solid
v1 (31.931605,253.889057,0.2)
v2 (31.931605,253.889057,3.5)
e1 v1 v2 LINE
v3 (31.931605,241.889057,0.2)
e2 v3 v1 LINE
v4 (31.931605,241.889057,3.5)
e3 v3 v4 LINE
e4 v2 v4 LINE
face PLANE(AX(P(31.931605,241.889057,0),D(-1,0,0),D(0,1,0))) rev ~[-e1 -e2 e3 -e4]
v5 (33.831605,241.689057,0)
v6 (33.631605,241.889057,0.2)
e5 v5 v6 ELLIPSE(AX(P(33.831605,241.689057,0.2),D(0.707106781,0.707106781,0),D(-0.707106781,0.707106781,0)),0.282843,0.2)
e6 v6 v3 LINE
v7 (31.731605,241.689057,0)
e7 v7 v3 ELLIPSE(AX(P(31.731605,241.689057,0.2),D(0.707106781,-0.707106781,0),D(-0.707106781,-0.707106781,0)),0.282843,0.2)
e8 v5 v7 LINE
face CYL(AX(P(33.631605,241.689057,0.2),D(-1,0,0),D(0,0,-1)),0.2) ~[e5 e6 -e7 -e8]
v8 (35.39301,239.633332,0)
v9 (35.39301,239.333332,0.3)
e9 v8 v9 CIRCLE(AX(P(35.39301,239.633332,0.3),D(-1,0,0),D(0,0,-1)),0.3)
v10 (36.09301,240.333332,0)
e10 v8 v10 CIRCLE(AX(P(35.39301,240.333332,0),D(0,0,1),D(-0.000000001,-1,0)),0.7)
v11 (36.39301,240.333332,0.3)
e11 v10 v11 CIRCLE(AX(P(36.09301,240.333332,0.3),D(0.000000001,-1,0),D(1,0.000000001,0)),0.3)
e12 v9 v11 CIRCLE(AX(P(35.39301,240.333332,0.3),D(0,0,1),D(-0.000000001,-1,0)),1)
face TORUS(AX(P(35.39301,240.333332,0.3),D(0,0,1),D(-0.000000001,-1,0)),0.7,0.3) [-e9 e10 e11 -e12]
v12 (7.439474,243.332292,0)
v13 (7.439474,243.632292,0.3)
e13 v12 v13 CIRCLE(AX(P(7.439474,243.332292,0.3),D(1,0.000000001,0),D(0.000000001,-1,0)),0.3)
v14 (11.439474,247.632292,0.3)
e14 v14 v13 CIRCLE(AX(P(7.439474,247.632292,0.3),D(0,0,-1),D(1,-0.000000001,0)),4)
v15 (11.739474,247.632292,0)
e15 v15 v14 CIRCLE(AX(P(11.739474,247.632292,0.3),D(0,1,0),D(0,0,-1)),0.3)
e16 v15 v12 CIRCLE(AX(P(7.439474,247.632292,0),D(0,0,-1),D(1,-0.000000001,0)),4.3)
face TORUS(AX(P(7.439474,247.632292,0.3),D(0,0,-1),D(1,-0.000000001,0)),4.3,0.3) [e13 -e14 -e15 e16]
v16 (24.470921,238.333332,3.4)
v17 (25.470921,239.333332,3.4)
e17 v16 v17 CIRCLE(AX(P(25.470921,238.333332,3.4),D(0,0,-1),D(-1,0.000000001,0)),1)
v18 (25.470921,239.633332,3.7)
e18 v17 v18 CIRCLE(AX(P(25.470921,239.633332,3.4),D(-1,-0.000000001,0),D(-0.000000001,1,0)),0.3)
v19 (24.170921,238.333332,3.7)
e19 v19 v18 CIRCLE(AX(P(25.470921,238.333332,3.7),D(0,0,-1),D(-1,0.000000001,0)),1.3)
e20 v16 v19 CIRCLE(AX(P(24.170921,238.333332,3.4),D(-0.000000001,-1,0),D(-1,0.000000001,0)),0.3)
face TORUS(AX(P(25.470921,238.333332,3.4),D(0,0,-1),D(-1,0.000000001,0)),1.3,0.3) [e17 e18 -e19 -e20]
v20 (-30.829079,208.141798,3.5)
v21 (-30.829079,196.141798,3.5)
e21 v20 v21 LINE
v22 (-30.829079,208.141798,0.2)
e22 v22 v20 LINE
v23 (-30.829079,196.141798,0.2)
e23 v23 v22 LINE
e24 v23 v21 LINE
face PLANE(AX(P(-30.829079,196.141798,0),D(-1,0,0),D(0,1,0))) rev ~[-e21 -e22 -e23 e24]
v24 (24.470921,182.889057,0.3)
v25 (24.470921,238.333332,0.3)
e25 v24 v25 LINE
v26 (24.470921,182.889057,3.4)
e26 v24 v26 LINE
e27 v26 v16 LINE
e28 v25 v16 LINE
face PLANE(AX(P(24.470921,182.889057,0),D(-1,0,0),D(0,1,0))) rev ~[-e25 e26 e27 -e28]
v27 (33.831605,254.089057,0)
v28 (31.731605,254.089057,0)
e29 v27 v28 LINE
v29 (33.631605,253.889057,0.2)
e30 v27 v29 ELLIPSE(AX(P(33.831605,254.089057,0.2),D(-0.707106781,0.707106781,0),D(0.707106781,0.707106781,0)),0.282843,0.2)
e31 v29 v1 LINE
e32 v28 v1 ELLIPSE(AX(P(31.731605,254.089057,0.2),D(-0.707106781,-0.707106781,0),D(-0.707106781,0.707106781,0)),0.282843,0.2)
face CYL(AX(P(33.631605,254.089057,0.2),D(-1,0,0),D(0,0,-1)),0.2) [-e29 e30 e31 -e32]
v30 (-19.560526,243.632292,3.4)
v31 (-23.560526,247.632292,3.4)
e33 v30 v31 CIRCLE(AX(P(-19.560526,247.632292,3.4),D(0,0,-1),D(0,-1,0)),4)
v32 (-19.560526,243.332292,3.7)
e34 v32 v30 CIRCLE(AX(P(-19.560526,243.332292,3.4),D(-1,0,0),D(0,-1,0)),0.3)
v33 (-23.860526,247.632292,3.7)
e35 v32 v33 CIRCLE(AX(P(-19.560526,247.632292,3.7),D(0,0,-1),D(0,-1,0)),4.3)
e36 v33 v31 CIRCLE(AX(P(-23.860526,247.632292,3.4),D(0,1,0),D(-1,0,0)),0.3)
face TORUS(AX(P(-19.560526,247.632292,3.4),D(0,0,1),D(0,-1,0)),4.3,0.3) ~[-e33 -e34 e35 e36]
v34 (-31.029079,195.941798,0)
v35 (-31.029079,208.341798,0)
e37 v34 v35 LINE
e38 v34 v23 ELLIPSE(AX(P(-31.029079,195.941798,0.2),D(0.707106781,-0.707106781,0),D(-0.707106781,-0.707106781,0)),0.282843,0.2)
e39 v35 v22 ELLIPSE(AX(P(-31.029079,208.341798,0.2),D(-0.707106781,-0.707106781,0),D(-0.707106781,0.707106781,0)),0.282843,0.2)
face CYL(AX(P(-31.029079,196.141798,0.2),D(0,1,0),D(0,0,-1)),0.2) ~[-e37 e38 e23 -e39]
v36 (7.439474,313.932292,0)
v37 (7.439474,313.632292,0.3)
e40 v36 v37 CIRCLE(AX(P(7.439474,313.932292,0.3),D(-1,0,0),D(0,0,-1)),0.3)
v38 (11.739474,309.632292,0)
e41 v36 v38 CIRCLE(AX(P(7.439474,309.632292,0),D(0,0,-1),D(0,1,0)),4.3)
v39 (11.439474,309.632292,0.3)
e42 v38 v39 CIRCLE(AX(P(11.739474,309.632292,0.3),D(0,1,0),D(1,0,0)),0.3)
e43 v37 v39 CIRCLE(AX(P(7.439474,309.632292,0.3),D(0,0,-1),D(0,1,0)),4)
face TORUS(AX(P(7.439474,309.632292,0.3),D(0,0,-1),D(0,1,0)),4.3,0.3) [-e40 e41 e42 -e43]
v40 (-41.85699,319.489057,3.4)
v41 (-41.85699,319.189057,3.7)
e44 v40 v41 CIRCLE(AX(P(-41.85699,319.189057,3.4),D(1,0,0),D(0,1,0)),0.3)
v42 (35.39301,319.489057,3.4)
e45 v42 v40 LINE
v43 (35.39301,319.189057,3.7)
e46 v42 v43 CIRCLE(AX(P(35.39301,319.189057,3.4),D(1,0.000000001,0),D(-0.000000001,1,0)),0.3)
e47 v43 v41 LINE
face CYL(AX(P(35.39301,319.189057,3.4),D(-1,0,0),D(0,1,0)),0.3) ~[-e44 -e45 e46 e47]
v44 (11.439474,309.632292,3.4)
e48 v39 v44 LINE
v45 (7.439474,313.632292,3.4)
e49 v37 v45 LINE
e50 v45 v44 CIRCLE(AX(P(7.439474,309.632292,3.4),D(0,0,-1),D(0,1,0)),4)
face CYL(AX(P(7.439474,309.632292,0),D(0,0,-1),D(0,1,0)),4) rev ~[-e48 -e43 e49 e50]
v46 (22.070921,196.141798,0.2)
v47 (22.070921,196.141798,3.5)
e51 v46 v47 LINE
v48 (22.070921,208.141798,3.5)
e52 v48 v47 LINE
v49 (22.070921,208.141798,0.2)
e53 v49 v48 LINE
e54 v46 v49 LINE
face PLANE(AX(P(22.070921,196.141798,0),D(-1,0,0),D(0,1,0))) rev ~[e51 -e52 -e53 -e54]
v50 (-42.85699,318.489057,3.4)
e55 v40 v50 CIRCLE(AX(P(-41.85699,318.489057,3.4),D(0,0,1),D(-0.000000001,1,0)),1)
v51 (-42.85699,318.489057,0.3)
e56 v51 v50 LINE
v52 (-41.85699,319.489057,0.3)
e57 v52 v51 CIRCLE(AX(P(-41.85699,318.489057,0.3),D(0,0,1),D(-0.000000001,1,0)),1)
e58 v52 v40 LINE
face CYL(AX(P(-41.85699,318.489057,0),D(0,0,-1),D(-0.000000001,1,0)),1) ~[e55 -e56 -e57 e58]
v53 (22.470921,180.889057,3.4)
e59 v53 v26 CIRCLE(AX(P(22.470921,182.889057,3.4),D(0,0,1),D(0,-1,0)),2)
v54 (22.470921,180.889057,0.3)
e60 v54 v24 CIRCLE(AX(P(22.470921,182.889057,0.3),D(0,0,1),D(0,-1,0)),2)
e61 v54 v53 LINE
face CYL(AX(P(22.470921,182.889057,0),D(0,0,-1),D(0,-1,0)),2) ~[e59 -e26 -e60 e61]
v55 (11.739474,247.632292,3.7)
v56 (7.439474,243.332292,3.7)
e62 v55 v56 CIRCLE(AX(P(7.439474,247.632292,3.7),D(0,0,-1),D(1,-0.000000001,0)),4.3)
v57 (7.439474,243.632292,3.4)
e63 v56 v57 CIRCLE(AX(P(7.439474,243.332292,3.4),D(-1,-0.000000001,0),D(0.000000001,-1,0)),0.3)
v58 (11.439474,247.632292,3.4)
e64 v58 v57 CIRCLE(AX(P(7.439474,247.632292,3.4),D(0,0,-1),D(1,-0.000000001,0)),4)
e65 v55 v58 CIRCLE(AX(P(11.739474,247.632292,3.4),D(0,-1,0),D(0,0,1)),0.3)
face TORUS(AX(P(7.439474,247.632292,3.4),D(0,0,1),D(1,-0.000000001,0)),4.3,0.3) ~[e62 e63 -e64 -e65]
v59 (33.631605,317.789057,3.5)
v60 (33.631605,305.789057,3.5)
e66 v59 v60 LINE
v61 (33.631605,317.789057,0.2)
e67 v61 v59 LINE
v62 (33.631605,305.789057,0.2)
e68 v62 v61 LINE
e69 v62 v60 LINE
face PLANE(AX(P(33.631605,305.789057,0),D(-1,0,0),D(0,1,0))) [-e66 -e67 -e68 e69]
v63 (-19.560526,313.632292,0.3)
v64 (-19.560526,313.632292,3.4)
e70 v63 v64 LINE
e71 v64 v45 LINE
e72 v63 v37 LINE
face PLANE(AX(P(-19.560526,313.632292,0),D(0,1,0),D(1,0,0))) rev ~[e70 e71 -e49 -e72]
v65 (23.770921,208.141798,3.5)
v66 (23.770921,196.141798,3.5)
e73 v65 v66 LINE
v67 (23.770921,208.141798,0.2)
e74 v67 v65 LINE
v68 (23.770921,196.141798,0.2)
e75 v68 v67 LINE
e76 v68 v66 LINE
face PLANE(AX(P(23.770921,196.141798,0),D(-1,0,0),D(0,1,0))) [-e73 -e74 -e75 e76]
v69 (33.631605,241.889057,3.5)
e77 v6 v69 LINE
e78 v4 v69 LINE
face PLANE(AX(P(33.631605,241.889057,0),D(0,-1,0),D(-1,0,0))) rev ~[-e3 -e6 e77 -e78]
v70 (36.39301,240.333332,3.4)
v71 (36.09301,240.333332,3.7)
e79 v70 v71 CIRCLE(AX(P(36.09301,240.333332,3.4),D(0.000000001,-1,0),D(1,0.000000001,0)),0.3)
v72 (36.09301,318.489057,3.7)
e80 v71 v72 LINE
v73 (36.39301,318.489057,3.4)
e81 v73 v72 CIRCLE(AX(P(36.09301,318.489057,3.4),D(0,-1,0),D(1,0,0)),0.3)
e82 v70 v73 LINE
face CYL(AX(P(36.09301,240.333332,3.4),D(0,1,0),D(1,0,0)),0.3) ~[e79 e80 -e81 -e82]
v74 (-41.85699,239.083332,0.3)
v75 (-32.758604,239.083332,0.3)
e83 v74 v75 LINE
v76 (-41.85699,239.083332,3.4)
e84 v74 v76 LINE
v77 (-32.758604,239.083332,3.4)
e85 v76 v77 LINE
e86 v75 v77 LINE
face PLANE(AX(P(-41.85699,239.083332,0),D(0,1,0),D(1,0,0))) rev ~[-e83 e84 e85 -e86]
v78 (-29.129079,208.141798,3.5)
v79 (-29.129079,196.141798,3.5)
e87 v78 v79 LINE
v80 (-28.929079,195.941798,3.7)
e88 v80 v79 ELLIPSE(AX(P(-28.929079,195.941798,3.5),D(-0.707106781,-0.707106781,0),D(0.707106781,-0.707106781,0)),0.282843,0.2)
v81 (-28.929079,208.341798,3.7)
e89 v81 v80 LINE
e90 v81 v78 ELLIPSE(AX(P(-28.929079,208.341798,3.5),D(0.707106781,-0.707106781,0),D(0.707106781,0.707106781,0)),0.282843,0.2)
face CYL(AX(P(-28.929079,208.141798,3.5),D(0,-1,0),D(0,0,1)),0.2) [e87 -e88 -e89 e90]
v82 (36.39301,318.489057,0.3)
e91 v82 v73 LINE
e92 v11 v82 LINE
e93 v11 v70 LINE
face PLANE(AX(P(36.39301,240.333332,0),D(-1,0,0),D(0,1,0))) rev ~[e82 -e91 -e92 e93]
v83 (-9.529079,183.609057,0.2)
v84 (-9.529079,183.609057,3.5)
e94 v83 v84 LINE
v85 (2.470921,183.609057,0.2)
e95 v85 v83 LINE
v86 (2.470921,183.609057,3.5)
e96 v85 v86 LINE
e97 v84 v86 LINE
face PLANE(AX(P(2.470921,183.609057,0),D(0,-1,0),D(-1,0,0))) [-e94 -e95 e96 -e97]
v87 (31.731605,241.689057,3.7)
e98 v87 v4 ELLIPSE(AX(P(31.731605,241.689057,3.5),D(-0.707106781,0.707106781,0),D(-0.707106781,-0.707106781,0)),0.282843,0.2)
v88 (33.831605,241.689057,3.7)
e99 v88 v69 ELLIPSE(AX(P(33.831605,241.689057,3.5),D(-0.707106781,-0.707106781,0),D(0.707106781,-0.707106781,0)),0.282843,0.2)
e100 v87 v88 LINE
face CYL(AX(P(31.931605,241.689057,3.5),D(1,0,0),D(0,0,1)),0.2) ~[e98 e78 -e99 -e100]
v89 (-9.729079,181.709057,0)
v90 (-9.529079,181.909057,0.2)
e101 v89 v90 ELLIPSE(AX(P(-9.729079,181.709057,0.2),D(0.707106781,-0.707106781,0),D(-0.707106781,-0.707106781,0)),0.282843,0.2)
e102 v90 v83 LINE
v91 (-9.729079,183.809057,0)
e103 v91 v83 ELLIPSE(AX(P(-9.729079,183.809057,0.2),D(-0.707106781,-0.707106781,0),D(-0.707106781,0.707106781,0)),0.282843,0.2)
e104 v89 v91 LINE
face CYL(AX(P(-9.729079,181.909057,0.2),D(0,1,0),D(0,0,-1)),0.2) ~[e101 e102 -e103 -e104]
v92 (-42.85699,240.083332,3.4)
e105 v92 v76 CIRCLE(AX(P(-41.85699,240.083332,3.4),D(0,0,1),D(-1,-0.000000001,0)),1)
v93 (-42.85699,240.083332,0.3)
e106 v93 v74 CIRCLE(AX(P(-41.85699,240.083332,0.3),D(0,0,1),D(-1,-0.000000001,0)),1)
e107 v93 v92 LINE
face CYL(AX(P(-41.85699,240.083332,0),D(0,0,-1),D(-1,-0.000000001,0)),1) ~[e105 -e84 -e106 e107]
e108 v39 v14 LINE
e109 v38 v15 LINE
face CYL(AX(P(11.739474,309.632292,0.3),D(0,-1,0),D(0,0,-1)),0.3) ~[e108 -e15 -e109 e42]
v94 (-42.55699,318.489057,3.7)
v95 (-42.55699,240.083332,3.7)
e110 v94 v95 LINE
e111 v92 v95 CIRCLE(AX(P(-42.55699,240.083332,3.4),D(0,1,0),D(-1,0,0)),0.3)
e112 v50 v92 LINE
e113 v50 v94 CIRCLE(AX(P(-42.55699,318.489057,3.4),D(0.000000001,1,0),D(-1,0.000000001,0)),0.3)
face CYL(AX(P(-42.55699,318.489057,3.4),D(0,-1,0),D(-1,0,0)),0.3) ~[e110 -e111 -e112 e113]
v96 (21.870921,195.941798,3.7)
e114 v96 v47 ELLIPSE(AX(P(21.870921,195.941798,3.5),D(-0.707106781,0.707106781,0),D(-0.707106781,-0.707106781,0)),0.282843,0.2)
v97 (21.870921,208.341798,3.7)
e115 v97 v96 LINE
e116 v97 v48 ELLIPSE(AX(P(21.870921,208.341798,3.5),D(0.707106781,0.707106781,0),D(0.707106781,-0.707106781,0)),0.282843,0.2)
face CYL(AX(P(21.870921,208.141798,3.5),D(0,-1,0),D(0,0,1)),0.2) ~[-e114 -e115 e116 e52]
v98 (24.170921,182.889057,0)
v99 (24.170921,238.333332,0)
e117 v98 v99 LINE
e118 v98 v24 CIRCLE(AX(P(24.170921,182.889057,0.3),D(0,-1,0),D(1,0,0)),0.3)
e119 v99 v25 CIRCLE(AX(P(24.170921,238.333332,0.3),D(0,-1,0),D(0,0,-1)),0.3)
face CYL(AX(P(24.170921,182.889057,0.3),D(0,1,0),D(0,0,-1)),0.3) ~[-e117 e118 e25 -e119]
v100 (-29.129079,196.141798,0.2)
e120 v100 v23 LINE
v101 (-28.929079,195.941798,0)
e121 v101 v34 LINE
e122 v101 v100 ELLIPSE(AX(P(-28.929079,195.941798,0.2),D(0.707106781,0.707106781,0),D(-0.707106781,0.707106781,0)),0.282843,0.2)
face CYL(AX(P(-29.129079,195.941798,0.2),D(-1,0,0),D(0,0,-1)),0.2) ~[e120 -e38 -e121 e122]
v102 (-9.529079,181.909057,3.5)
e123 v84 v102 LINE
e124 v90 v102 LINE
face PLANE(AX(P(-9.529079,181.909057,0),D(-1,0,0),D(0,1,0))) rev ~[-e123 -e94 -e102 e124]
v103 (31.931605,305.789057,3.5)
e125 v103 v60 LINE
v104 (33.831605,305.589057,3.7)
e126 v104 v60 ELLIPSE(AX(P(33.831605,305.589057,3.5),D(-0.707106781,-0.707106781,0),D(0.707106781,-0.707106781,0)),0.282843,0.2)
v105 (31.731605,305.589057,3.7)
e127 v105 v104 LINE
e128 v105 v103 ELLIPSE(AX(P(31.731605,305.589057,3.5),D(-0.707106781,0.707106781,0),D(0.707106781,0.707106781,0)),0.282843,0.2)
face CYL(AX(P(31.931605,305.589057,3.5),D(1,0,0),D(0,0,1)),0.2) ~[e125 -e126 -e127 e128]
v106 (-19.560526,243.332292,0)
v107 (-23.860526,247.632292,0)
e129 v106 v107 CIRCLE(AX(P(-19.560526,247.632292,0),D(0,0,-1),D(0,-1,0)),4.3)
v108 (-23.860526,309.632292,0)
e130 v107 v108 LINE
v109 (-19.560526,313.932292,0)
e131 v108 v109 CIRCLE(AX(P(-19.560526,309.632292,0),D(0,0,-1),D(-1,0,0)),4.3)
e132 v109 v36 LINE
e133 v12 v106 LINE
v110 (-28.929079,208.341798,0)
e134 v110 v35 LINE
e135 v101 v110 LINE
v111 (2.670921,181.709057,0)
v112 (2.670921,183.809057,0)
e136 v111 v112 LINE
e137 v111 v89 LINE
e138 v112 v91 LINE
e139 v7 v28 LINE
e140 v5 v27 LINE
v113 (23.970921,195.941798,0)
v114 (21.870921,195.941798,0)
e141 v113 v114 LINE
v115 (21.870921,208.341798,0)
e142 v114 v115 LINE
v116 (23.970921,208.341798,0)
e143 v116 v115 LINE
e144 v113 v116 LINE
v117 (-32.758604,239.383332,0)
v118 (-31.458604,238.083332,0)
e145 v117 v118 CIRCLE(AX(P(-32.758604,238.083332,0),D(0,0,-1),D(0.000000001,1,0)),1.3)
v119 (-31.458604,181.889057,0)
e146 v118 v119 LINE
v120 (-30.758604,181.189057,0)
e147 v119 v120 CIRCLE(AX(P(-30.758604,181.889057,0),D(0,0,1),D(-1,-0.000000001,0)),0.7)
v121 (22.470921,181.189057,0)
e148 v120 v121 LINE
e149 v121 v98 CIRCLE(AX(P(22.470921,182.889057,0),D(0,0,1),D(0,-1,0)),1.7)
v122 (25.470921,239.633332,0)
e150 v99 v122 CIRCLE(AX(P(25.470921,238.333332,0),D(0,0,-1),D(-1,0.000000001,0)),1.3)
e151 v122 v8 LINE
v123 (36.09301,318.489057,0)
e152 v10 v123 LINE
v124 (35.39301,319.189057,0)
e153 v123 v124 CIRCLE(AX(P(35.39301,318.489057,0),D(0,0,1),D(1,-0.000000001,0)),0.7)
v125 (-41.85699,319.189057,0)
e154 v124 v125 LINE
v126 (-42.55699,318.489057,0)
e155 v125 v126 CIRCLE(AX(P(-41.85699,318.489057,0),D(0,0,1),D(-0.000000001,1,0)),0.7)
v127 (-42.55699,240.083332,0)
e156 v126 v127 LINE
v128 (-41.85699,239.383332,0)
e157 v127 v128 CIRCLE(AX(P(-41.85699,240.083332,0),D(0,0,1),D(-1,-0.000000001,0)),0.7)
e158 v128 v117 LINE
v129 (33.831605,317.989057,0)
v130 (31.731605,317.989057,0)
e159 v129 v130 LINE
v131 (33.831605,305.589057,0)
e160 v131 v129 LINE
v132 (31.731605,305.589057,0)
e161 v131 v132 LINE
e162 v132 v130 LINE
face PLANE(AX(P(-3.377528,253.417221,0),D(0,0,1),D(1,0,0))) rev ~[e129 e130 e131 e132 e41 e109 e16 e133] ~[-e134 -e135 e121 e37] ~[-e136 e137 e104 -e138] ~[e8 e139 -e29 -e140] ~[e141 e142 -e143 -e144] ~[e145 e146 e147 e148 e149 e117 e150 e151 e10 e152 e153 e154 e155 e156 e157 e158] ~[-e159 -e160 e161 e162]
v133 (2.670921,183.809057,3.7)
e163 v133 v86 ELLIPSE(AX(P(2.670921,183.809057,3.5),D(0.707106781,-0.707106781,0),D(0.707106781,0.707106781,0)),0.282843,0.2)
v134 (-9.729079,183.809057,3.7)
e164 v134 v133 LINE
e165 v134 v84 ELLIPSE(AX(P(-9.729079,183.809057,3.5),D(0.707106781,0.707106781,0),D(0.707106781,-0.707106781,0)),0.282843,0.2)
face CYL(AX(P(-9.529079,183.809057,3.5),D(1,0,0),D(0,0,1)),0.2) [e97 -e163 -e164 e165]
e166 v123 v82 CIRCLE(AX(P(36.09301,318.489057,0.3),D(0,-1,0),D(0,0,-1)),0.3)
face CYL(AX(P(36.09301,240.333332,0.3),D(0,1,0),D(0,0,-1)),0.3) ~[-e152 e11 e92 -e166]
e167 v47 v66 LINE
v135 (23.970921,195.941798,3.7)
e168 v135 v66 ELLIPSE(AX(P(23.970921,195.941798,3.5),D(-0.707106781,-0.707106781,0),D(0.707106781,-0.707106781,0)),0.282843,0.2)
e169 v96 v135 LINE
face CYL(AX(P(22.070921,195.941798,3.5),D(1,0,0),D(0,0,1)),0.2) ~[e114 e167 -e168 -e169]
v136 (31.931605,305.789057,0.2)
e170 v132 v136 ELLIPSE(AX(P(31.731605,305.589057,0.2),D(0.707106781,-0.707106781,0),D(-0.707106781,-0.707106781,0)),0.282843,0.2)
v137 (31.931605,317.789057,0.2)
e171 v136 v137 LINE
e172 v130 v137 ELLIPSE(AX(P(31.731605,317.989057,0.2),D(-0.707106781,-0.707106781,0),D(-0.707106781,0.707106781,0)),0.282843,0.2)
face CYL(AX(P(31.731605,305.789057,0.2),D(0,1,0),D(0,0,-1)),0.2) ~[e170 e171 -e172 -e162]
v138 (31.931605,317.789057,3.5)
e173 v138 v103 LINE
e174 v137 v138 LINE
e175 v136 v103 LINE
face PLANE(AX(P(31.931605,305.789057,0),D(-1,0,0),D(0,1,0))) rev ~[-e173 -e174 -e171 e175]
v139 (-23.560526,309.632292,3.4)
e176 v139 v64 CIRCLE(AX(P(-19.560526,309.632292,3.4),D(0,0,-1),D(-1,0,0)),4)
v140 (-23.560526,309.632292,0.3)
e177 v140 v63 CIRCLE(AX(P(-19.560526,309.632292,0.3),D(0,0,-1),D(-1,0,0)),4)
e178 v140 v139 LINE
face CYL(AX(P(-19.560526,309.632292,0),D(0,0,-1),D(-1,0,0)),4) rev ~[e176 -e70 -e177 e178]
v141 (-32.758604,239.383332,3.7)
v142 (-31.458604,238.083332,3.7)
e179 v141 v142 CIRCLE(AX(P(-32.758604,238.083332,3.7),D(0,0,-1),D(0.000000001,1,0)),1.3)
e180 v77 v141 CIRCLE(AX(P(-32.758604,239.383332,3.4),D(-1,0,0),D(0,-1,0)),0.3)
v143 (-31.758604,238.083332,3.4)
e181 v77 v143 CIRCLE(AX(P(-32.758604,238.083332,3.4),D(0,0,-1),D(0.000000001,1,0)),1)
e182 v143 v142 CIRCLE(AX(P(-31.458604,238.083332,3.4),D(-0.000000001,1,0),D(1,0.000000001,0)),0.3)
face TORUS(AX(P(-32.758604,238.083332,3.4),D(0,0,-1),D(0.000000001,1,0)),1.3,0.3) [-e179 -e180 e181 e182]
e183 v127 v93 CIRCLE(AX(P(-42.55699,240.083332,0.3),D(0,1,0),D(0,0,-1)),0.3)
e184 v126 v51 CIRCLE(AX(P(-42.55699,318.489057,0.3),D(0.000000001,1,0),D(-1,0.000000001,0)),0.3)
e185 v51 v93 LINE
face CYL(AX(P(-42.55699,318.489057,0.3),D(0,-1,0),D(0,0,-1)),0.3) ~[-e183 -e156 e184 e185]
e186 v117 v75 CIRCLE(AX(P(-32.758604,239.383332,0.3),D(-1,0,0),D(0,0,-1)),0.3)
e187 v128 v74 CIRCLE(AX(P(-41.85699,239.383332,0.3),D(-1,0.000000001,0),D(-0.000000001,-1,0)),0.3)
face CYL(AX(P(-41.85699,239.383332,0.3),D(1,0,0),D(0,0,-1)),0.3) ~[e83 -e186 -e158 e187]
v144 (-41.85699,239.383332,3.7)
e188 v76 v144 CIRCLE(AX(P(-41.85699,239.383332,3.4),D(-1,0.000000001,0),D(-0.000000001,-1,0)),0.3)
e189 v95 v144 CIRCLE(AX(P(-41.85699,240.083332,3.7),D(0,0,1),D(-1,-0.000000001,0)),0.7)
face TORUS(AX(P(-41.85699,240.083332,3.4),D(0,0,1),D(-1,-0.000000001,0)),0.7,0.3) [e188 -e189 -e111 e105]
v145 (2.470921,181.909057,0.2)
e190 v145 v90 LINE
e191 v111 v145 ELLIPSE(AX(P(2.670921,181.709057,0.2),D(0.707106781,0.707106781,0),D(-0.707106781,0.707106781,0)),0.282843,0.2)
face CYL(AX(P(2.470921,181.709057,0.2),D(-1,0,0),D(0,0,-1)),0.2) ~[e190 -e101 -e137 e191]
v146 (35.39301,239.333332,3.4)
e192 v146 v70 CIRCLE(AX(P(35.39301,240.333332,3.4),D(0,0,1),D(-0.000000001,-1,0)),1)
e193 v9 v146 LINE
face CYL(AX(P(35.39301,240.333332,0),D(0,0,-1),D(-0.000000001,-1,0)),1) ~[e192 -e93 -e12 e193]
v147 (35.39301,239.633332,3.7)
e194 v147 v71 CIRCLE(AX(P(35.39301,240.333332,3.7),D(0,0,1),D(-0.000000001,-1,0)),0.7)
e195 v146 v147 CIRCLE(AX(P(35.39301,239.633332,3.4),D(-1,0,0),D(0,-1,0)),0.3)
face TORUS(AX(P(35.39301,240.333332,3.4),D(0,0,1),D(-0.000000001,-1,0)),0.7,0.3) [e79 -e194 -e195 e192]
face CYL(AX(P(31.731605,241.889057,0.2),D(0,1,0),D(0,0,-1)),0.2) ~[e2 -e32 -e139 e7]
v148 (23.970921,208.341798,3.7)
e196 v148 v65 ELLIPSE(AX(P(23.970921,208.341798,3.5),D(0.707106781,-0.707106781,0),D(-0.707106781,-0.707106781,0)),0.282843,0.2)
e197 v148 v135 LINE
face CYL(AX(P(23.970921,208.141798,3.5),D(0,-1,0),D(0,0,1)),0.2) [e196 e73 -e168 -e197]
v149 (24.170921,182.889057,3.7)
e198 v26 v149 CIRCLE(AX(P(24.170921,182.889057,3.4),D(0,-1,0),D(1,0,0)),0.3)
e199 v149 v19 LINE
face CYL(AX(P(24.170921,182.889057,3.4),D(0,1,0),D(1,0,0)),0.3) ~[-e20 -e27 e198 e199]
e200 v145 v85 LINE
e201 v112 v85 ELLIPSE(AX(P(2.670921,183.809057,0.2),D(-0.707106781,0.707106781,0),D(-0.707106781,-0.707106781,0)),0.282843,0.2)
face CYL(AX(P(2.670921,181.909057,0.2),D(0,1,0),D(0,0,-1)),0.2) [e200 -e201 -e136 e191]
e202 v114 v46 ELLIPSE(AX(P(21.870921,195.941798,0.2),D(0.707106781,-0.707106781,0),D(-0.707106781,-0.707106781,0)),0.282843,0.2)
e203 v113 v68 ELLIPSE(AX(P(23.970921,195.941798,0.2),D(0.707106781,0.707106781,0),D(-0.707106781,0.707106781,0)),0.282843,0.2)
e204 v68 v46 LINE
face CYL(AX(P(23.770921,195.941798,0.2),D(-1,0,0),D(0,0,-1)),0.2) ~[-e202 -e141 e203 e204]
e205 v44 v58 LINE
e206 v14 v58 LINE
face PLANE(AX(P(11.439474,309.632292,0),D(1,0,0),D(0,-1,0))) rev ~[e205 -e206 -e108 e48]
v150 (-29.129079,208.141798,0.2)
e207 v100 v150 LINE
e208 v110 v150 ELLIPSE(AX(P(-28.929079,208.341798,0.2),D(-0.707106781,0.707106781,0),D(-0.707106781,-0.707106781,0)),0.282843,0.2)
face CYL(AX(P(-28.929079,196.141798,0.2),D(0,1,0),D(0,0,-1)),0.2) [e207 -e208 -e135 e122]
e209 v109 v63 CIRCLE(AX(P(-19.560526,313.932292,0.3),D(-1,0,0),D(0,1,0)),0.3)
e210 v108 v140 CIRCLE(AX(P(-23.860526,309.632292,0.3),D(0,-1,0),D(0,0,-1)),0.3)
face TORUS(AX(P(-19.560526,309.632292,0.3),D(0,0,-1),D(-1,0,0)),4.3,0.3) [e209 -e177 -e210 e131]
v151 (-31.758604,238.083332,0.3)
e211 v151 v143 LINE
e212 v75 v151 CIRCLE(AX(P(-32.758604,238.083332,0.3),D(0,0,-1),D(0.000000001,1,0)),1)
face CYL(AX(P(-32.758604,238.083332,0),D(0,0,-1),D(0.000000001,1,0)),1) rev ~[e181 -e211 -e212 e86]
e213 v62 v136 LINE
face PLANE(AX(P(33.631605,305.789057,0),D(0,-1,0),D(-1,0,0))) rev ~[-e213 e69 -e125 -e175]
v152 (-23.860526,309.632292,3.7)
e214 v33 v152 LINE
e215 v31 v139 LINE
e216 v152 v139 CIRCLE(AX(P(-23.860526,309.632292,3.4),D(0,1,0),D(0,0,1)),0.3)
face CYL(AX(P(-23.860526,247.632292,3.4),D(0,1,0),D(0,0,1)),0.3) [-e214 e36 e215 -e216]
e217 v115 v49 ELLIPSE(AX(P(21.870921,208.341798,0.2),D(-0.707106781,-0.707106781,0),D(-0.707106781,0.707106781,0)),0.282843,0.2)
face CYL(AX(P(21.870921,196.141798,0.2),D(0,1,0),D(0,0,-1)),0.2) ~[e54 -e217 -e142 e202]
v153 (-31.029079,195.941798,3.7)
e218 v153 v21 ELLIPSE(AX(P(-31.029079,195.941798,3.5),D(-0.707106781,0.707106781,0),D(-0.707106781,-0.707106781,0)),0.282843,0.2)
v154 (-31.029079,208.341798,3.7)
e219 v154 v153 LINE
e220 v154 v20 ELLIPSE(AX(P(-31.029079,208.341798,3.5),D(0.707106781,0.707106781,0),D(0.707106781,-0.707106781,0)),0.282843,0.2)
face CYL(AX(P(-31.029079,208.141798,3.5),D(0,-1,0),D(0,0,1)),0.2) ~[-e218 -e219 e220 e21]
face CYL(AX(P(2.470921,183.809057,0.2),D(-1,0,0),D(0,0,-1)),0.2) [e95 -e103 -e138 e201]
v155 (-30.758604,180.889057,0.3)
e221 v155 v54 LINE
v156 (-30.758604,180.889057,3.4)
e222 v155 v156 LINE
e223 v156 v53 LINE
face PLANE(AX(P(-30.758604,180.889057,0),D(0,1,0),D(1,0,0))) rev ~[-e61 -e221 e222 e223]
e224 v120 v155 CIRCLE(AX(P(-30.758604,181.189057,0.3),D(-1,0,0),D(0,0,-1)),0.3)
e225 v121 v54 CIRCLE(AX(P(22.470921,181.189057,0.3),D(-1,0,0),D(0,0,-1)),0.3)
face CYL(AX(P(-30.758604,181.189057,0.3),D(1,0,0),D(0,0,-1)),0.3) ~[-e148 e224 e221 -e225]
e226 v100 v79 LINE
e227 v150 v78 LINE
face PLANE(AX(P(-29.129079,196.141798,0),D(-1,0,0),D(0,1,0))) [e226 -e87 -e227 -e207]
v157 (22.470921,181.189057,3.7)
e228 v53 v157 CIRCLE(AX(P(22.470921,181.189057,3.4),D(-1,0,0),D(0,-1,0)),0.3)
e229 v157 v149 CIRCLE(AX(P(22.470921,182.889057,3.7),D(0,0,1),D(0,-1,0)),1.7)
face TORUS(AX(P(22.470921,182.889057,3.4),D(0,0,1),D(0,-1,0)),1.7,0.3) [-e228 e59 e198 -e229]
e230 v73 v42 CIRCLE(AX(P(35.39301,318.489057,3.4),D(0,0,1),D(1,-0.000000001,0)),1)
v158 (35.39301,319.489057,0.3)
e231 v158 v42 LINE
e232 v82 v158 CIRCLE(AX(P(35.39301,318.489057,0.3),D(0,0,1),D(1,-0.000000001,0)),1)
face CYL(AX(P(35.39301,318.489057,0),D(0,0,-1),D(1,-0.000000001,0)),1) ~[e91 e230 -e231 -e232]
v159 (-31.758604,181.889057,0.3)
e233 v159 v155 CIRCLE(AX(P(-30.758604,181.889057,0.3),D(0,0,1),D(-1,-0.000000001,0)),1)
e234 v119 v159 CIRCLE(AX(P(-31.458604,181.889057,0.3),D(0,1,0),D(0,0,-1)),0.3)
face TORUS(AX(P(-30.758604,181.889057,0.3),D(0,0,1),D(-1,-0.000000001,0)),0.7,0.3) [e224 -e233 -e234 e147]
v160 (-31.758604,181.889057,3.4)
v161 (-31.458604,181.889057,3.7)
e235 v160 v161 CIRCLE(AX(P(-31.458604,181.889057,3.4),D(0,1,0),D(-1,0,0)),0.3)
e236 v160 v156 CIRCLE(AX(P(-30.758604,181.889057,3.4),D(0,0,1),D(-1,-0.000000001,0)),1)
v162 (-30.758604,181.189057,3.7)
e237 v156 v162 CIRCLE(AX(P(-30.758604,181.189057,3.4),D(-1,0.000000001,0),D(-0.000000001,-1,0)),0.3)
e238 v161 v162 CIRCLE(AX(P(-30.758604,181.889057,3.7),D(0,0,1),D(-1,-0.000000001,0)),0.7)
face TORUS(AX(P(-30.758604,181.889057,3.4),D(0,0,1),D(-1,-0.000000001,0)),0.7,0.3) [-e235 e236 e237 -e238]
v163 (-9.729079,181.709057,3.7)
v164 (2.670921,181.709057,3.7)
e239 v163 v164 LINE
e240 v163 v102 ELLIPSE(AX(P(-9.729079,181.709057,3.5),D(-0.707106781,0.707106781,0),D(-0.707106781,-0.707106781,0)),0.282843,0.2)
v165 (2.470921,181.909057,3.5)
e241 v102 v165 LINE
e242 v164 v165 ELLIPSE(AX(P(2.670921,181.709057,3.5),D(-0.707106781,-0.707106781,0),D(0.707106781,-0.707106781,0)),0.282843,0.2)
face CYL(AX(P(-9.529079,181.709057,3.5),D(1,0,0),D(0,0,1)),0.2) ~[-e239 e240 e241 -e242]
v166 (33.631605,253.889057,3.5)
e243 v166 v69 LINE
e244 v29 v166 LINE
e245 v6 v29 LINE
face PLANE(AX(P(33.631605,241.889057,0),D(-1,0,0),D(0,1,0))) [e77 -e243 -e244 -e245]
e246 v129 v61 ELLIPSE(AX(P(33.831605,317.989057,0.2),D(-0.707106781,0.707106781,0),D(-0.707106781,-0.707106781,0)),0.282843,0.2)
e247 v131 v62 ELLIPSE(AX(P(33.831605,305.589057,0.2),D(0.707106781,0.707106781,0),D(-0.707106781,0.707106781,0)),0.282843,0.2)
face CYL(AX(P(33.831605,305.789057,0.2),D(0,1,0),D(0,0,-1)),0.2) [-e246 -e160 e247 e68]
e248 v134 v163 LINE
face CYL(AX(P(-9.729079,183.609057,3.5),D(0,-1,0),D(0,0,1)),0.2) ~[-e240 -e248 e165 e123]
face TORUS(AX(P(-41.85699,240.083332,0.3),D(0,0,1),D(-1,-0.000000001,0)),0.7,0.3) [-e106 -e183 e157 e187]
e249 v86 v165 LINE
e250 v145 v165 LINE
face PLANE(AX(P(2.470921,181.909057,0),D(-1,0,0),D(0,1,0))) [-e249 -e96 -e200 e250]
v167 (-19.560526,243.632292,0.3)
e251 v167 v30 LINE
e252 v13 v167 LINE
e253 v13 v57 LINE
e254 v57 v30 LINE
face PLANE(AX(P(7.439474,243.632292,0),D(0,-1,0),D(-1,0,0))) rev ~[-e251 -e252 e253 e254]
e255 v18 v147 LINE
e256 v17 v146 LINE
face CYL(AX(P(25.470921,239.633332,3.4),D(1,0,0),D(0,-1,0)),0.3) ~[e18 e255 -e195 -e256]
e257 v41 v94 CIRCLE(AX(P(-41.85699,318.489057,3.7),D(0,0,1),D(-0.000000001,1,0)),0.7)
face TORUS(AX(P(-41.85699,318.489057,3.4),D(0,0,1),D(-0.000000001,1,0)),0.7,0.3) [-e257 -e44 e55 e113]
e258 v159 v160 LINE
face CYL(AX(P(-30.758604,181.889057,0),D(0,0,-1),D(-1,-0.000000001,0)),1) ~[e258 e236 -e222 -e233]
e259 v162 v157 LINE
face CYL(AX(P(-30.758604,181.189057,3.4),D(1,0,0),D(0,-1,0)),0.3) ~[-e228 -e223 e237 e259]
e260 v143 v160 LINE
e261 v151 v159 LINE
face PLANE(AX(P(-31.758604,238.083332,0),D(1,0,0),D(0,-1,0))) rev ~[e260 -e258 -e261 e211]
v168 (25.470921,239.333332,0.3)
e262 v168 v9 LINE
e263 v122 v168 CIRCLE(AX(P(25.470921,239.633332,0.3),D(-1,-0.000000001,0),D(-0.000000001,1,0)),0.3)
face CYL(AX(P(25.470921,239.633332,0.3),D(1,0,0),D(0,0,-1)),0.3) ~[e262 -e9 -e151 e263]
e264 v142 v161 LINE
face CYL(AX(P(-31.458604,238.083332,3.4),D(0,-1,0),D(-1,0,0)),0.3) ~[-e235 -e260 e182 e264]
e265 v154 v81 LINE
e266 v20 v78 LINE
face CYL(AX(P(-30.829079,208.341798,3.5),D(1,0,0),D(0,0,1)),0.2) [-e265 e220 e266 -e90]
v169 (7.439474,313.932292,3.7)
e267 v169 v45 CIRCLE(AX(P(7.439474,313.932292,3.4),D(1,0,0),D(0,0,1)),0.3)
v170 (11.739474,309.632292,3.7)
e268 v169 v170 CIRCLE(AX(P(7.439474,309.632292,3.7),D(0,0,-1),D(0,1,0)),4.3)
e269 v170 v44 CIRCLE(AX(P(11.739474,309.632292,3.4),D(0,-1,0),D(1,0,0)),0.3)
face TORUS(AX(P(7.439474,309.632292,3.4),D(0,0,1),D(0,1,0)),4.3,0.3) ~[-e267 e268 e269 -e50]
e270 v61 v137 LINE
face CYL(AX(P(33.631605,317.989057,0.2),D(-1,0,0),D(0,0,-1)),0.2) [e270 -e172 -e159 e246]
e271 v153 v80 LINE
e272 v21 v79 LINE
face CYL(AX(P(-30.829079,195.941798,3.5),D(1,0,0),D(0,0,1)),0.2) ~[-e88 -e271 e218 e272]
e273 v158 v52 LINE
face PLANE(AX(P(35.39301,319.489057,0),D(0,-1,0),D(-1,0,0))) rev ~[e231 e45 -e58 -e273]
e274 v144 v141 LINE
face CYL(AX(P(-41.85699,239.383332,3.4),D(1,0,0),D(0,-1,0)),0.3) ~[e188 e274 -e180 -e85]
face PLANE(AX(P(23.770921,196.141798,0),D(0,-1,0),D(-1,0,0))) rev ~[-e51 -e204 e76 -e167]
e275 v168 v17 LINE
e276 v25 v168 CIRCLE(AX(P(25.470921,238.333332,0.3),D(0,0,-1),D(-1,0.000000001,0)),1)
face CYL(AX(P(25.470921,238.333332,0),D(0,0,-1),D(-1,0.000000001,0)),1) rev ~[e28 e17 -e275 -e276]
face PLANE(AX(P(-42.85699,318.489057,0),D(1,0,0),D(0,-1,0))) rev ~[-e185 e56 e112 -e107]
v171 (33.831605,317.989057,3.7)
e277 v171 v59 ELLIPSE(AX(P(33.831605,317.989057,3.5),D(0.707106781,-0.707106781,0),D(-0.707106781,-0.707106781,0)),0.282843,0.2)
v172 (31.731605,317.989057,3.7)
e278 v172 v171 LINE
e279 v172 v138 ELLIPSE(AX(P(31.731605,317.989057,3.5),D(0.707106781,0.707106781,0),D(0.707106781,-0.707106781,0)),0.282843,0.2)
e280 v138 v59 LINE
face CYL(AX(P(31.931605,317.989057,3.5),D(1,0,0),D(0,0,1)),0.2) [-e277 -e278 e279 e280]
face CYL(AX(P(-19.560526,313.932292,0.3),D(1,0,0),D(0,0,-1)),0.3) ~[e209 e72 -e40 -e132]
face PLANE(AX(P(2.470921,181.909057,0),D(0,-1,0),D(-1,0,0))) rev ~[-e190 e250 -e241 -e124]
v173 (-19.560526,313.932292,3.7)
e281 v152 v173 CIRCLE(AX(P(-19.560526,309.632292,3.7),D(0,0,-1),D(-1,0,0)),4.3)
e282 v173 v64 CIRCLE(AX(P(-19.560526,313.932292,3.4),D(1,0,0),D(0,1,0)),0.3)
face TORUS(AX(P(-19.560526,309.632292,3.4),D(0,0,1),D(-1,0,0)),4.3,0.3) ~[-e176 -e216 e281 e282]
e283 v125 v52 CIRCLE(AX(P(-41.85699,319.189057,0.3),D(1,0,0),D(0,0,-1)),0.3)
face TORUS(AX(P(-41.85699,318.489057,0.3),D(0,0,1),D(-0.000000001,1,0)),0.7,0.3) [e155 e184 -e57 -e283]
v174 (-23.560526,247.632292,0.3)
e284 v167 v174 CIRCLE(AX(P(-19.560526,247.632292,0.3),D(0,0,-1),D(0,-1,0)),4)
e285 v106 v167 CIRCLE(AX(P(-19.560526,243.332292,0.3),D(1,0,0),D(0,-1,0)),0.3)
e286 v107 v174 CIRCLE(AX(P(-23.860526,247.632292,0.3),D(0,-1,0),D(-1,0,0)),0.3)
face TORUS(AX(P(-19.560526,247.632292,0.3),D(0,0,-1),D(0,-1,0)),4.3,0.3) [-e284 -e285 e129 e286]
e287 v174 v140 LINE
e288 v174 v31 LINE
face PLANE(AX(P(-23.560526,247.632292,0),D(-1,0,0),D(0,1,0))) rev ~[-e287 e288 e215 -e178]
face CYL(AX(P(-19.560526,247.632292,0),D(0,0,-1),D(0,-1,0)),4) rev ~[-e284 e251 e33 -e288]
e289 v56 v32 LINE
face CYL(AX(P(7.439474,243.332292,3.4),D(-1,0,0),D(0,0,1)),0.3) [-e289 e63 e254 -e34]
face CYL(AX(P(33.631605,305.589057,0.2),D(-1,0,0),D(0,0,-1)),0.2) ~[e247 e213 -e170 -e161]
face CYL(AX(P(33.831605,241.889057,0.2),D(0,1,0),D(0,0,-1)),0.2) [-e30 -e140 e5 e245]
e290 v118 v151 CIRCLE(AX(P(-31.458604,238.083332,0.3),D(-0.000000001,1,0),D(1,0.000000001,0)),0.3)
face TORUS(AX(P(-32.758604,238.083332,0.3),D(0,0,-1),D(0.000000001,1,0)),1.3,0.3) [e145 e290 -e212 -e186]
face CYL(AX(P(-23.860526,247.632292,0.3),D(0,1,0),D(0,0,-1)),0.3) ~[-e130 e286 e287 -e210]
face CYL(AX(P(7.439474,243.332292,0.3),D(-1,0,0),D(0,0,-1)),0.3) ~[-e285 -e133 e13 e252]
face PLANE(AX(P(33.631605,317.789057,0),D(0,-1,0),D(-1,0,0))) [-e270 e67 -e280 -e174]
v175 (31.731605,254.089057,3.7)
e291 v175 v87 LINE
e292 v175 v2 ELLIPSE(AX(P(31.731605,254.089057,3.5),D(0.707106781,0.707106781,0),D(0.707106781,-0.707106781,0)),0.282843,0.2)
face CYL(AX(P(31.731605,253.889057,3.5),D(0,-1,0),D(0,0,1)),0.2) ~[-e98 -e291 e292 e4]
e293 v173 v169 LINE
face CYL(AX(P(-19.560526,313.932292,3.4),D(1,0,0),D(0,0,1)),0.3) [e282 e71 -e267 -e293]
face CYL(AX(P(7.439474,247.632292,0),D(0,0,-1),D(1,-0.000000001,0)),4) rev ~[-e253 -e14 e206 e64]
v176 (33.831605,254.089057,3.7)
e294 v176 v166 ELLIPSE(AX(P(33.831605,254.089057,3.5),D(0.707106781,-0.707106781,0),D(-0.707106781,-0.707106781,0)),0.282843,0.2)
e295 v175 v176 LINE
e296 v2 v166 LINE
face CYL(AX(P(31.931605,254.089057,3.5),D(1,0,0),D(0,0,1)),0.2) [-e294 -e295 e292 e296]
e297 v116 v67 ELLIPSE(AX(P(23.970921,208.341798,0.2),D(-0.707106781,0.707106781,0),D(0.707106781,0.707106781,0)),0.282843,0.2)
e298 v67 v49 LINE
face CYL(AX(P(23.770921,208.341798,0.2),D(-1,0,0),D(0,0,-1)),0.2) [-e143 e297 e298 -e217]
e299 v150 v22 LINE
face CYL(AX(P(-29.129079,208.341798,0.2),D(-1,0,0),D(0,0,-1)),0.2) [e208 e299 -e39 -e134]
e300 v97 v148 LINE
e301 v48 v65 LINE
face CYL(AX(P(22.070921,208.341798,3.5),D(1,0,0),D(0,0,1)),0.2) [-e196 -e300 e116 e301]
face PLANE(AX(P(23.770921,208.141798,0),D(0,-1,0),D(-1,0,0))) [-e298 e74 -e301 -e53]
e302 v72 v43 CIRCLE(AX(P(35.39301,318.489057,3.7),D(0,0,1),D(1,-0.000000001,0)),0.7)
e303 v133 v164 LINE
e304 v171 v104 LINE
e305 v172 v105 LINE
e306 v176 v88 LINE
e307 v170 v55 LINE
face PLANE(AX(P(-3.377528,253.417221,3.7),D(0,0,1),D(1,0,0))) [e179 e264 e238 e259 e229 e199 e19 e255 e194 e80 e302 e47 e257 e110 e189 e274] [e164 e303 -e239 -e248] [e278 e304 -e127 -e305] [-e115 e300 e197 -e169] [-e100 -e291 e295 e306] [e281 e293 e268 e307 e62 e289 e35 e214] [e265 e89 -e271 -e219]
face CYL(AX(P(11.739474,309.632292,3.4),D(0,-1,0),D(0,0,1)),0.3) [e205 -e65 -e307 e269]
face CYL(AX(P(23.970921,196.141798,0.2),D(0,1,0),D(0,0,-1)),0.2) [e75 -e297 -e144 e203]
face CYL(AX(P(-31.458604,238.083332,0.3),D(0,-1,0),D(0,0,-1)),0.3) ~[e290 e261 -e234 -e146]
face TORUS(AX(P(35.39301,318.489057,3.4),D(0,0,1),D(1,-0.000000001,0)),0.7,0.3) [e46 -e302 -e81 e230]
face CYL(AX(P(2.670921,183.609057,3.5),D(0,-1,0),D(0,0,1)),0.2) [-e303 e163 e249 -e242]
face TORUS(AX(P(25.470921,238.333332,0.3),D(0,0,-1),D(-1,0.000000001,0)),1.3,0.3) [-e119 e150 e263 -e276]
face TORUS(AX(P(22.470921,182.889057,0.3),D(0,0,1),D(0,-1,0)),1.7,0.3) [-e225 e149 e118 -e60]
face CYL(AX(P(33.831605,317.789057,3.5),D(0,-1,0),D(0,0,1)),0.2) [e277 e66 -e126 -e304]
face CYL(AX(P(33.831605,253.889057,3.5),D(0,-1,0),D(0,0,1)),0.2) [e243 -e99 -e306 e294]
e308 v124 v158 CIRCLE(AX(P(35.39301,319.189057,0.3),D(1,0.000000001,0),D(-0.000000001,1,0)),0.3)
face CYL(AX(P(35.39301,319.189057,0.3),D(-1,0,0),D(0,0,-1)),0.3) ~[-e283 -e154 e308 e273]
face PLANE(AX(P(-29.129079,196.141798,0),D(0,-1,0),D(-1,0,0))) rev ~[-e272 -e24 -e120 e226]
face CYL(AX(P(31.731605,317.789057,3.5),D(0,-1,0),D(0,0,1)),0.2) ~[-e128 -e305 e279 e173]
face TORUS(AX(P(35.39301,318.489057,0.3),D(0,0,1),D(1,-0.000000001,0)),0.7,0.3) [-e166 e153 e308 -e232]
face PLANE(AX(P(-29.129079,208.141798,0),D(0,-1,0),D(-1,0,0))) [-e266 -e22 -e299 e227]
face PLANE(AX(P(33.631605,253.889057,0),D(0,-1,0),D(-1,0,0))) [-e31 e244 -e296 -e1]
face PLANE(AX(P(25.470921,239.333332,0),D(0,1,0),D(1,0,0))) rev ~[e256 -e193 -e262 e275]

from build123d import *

# Parameters (mm, degrees)
BOSS_EXTRUDE1_DEPTH = 3.7
SKETCH2_W           = 1.7
SKETCH2_H           = 12
SKETCH2_W_2         = 12
SKETCH2_H_2         = 1.7
CUT_EXTRUDE1_DEPTH  = 4
FILLET1_R           = 0.3
FILLET2_R           = 0.2


with BuildPart() as part:
    # Sketch1 → Boss-Extrude1 (new body)
    with BuildSketch(Plane.XY):
        with BuildLine():
            Line((25.47092131, 239.333331526), (35.393009955, 239.333331526))
            ThreePointArc((35.393009955, 239.333331526), (36.100116737, 239.626224745), (36.393009955, 240.333331526))
            Line((36.393009955, 240.333331526), (36.393009955, 318.489057253))
            ThreePointArc((36.393009955, 318.489057253), (36.100116737, 319.196164034), (35.393009955, 319.489057253))
            Line((35.393009955, 319.489057253), (-41.856990045, 319.489057253))
            ThreePointArc((-41.856990045, 319.489057253), (-42.564096826, 319.196164034), (-42.856990045, 318.489057253))
            Line((-42.856990045, 318.489057253), (-42.856990045, 240.083331526))
            ThreePointArc((-42.856990045, 240.083331526), (-42.564096826, 239.376224745), (-41.856990045, 239.083331526))
            Line((-41.856990045, 239.083331526), (-32.758604141, 239.083331526))
            ThreePointArc((-32.758604141, 239.083331526), (-32.05149736, 238.790438307), (-31.758604141, 238.083331526))
            Line((-31.758604141, 238.083331526), (-31.758604141, 181.889057196))
            ThreePointArc((-31.758604141, 181.889057196), (-31.465710922, 181.181950415), (-30.758604141, 180.889057196))
            Line((-30.758604141, 180.889057196), (22.47092131, 180.889057196))
            ThreePointArc((22.47092131, 180.889057196), (23.885134873, 181.474843634), (24.47092131, 182.889057196))
            Line((24.47092131, 182.889057196), (24.47092131, 238.333331526))
            ThreePointArc((24.47092131, 238.333331526), (24.763814529, 239.040438307), (25.47092131, 239.333331526))
        make_face()
        with BuildLine():
            Line((-19.56052606, 313.632292469), (7.43947394, 313.632292469))
            ThreePointArc((7.43947394, 313.632292469), (10.267901064, 312.460719594), (11.43947394, 309.632292469))
            Line((11.43947394, 309.632292469), (11.43947394, 247.632292469))
            ThreePointArc((11.43947394, 247.632292469), (10.267901064, 244.803865345), (7.43947394, 243.632292469))
            Line((7.43947394, 243.632292469), (-19.56052606, 243.632292469))
            ThreePointArc((-19.56052606, 243.632292469), (-22.388953185, 244.803865345), (-23.56052606, 247.632292469))
            Line((-23.56052606, 247.632292469), (-23.56052606, 309.632292469))
            ThreePointArc((-23.56052606, 309.632292469), (-22.388953185, 312.460719594), (-19.56052606, 313.632292469))
        make_face(mode=Mode.SUBTRACT)
    extrude(amount=BOSS_EXTRUDE1_DEPTH)

    # Sketch2 → Cut-Extrude1 (cut)
    with BuildSketch(Plane(origin=(0, 0, 0), x_dir=(-1, 0, 0), z_dir=(0, 0, -1))):
        with Locations((29.979078689, 202.141797546)):
            Rectangle(SKETCH2_W, SKETCH2_H)
        with Locations((3.52907869, 182.759057196)):
            Rectangle(SKETCH2_W_2, SKETCH2_H_2)
        with Locations((-22.92092131, 202.141797546)):
            Rectangle(SKETCH2_W, SKETCH2_H)
        with Locations((-32.781605347, 247.889057196)):
            Rectangle(SKETCH2_W, SKETCH2_H)
        with Locations((-32.781605347, 311.789057196)):
            Rectangle(SKETCH2_W, SKETCH2_H)
    extrude(amount=-CUT_EXTRUDE1_DEPTH, mode=Mode.SUBTRACT)

    # Fillet1
    fillet1_edges = [part.edges().sort_by_distance(p)[0] for p in [
        (24.763814529, 239.040438307, 3.7),
        (-4.143841415, 180.889057196, 0),
        (-31.465710922, 181.181950415, 0),
        (-31.758604141, 209.986194361, 0),
        (30.431965633, 239.333331526, 3.7),
        (-32.05149736, 238.790438307, 0),
        (-37.307797093, 239.083331526, 0),
        (-42.564096826, 239.376224745, 0),
        (-42.856990045, 279.286194389, 0),
        (-42.564096826, 319.196164034, 0),
        (-3.231990045, 319.489057253, 0),
        (36.100116737, 319.196164034, 0),
        (36.393009955, 279.411194389, 0),
        (36.100116737, 239.626224745, 0),
        (30.431965633, 239.333331526, 0),
        (36.100116737, 239.626224745, 3.7),
        (24.763814529, 239.040438307, 0),
        (24.47092131, 210.611194361, 0),
        (23.885134873, 181.474843634, 0),
        (36.393009955, 279.411194389, 3.7),
        (36.100116737, 319.196164034, 3.7),
        (-3.231990045, 319.489057253, 3.7),
        (-42.564096826, 319.196164034, 3.7),
        (-42.856990045, 279.286194389, 3.7),
        (-42.564096826, 239.376224745, 3.7),
        (-22.388953185, 244.803865345, 0),
        (-6.06052606, 243.632292469, 0),
        (10.267901064, 244.803865345, 0),
        (11.43947394, 278.632292469, 0),
        (10.267901064, 312.460719594, 0),
        (-6.06052606, 313.632292469, 0),
        (-22.388953185, 312.460719594, 0),
        (-23.56052606, 278.632292469, 0),
        (-37.307797093, 239.083331526, 3.7),
        (-22.388953185, 244.803865345, 3.7),
        (-6.06052606, 243.632292469, 3.7),
        (10.267901064, 244.803865345, 3.7),
        (23.885134873, 181.474843634, 3.7),
        (11.43947394, 278.632292469, 3.7),
        (10.267901064, 312.460719594, 3.7),
        (-6.06052606, 313.632292469, 3.7),
        (-22.388953185, 312.460719594, 3.7),
        (-23.56052606, 278.632292469, 3.7),
        (-32.05149736, 238.790438307, 3.7),
        (-31.758604141, 209.986194361, 3.7),
        (-31.465710922, 181.181950415, 3.7),
        (-4.143841415, 180.889057196, 3.7),
        (24.47092131, 210.611194361, 3.7),
    ]]
    fillet(fillet1_edges, radius=FILLET1_R)

    # Fillet2
    fillet2_edges = [part.edges().sort_by_distance(p)[0] for p in [
        (-3.52907869, 183.609057196, 3.7),
        (-9.52907869, 182.759057196, 3.7),
        (-3.52907869, 181.909057196, 3.7),
        (2.47092131, 182.759057196, 3.7),
        (-3.52907869, 183.609057196, 0),
        (2.47092131, 182.759057196, 0),
        (-3.52907869, 181.909057196, 0),
        (-9.52907869, 182.759057196, 0),
        (23.77092131, 202.141797546, 3.7),
        (22.92092131, 208.141797546, 3.7),
        (22.07092131, 202.141797546, 3.7),
        (22.92092131, 196.141797546, 3.7),
        (23.77092131, 202.141797546, 0),
        (22.92092131, 196.141797546, 0),
        (22.07092131, 202.141797546, 0),
        (22.92092131, 208.141797546, 0),
        (33.631605347, 247.889057196, 3.7),
        (32.781605347, 253.889057196, 3.7),
        (31.931605347, 247.889057196, 3.7),
        (32.781605347, 241.889057196, 3.7),
        (33.631605347, 247.889057196, 0),
        (32.781605347, 241.889057196, 0),
        (31.931605347, 247.889057196, 0),
        (32.781605347, 253.889057196, 0),
        (32.781605347, 305.789057196, 3.7),
        (33.631605347, 311.789057196, 3.7),
        (32.781605347, 317.789057196, 3.7),
        (31.931605347, 311.789057196, 3.7),
        (32.781605347, 305.789057196, 0),
        (31.931605347, 311.789057196, 0),
        (32.781605347, 317.789057196, 0),
        (33.631605347, 311.789057196, 0),
        (-29.979078689, 208.141797546, 3.7),
        (-30.829078689, 202.141797546, 3.7),
        (-29.979078689, 196.141797546, 3.7),
        (-29.129078689, 202.141797546, 3.7),
        (-29.979078689, 208.141797546, 0),
        (-29.129078689, 202.141797546, 0),
        (-29.979078689, 196.141797546, 0),
        (-30.829078689, 202.141797546, 0),
    ]]
    fillet(fillet2_edges, radius=FILLET2_R)


solid = part.part
